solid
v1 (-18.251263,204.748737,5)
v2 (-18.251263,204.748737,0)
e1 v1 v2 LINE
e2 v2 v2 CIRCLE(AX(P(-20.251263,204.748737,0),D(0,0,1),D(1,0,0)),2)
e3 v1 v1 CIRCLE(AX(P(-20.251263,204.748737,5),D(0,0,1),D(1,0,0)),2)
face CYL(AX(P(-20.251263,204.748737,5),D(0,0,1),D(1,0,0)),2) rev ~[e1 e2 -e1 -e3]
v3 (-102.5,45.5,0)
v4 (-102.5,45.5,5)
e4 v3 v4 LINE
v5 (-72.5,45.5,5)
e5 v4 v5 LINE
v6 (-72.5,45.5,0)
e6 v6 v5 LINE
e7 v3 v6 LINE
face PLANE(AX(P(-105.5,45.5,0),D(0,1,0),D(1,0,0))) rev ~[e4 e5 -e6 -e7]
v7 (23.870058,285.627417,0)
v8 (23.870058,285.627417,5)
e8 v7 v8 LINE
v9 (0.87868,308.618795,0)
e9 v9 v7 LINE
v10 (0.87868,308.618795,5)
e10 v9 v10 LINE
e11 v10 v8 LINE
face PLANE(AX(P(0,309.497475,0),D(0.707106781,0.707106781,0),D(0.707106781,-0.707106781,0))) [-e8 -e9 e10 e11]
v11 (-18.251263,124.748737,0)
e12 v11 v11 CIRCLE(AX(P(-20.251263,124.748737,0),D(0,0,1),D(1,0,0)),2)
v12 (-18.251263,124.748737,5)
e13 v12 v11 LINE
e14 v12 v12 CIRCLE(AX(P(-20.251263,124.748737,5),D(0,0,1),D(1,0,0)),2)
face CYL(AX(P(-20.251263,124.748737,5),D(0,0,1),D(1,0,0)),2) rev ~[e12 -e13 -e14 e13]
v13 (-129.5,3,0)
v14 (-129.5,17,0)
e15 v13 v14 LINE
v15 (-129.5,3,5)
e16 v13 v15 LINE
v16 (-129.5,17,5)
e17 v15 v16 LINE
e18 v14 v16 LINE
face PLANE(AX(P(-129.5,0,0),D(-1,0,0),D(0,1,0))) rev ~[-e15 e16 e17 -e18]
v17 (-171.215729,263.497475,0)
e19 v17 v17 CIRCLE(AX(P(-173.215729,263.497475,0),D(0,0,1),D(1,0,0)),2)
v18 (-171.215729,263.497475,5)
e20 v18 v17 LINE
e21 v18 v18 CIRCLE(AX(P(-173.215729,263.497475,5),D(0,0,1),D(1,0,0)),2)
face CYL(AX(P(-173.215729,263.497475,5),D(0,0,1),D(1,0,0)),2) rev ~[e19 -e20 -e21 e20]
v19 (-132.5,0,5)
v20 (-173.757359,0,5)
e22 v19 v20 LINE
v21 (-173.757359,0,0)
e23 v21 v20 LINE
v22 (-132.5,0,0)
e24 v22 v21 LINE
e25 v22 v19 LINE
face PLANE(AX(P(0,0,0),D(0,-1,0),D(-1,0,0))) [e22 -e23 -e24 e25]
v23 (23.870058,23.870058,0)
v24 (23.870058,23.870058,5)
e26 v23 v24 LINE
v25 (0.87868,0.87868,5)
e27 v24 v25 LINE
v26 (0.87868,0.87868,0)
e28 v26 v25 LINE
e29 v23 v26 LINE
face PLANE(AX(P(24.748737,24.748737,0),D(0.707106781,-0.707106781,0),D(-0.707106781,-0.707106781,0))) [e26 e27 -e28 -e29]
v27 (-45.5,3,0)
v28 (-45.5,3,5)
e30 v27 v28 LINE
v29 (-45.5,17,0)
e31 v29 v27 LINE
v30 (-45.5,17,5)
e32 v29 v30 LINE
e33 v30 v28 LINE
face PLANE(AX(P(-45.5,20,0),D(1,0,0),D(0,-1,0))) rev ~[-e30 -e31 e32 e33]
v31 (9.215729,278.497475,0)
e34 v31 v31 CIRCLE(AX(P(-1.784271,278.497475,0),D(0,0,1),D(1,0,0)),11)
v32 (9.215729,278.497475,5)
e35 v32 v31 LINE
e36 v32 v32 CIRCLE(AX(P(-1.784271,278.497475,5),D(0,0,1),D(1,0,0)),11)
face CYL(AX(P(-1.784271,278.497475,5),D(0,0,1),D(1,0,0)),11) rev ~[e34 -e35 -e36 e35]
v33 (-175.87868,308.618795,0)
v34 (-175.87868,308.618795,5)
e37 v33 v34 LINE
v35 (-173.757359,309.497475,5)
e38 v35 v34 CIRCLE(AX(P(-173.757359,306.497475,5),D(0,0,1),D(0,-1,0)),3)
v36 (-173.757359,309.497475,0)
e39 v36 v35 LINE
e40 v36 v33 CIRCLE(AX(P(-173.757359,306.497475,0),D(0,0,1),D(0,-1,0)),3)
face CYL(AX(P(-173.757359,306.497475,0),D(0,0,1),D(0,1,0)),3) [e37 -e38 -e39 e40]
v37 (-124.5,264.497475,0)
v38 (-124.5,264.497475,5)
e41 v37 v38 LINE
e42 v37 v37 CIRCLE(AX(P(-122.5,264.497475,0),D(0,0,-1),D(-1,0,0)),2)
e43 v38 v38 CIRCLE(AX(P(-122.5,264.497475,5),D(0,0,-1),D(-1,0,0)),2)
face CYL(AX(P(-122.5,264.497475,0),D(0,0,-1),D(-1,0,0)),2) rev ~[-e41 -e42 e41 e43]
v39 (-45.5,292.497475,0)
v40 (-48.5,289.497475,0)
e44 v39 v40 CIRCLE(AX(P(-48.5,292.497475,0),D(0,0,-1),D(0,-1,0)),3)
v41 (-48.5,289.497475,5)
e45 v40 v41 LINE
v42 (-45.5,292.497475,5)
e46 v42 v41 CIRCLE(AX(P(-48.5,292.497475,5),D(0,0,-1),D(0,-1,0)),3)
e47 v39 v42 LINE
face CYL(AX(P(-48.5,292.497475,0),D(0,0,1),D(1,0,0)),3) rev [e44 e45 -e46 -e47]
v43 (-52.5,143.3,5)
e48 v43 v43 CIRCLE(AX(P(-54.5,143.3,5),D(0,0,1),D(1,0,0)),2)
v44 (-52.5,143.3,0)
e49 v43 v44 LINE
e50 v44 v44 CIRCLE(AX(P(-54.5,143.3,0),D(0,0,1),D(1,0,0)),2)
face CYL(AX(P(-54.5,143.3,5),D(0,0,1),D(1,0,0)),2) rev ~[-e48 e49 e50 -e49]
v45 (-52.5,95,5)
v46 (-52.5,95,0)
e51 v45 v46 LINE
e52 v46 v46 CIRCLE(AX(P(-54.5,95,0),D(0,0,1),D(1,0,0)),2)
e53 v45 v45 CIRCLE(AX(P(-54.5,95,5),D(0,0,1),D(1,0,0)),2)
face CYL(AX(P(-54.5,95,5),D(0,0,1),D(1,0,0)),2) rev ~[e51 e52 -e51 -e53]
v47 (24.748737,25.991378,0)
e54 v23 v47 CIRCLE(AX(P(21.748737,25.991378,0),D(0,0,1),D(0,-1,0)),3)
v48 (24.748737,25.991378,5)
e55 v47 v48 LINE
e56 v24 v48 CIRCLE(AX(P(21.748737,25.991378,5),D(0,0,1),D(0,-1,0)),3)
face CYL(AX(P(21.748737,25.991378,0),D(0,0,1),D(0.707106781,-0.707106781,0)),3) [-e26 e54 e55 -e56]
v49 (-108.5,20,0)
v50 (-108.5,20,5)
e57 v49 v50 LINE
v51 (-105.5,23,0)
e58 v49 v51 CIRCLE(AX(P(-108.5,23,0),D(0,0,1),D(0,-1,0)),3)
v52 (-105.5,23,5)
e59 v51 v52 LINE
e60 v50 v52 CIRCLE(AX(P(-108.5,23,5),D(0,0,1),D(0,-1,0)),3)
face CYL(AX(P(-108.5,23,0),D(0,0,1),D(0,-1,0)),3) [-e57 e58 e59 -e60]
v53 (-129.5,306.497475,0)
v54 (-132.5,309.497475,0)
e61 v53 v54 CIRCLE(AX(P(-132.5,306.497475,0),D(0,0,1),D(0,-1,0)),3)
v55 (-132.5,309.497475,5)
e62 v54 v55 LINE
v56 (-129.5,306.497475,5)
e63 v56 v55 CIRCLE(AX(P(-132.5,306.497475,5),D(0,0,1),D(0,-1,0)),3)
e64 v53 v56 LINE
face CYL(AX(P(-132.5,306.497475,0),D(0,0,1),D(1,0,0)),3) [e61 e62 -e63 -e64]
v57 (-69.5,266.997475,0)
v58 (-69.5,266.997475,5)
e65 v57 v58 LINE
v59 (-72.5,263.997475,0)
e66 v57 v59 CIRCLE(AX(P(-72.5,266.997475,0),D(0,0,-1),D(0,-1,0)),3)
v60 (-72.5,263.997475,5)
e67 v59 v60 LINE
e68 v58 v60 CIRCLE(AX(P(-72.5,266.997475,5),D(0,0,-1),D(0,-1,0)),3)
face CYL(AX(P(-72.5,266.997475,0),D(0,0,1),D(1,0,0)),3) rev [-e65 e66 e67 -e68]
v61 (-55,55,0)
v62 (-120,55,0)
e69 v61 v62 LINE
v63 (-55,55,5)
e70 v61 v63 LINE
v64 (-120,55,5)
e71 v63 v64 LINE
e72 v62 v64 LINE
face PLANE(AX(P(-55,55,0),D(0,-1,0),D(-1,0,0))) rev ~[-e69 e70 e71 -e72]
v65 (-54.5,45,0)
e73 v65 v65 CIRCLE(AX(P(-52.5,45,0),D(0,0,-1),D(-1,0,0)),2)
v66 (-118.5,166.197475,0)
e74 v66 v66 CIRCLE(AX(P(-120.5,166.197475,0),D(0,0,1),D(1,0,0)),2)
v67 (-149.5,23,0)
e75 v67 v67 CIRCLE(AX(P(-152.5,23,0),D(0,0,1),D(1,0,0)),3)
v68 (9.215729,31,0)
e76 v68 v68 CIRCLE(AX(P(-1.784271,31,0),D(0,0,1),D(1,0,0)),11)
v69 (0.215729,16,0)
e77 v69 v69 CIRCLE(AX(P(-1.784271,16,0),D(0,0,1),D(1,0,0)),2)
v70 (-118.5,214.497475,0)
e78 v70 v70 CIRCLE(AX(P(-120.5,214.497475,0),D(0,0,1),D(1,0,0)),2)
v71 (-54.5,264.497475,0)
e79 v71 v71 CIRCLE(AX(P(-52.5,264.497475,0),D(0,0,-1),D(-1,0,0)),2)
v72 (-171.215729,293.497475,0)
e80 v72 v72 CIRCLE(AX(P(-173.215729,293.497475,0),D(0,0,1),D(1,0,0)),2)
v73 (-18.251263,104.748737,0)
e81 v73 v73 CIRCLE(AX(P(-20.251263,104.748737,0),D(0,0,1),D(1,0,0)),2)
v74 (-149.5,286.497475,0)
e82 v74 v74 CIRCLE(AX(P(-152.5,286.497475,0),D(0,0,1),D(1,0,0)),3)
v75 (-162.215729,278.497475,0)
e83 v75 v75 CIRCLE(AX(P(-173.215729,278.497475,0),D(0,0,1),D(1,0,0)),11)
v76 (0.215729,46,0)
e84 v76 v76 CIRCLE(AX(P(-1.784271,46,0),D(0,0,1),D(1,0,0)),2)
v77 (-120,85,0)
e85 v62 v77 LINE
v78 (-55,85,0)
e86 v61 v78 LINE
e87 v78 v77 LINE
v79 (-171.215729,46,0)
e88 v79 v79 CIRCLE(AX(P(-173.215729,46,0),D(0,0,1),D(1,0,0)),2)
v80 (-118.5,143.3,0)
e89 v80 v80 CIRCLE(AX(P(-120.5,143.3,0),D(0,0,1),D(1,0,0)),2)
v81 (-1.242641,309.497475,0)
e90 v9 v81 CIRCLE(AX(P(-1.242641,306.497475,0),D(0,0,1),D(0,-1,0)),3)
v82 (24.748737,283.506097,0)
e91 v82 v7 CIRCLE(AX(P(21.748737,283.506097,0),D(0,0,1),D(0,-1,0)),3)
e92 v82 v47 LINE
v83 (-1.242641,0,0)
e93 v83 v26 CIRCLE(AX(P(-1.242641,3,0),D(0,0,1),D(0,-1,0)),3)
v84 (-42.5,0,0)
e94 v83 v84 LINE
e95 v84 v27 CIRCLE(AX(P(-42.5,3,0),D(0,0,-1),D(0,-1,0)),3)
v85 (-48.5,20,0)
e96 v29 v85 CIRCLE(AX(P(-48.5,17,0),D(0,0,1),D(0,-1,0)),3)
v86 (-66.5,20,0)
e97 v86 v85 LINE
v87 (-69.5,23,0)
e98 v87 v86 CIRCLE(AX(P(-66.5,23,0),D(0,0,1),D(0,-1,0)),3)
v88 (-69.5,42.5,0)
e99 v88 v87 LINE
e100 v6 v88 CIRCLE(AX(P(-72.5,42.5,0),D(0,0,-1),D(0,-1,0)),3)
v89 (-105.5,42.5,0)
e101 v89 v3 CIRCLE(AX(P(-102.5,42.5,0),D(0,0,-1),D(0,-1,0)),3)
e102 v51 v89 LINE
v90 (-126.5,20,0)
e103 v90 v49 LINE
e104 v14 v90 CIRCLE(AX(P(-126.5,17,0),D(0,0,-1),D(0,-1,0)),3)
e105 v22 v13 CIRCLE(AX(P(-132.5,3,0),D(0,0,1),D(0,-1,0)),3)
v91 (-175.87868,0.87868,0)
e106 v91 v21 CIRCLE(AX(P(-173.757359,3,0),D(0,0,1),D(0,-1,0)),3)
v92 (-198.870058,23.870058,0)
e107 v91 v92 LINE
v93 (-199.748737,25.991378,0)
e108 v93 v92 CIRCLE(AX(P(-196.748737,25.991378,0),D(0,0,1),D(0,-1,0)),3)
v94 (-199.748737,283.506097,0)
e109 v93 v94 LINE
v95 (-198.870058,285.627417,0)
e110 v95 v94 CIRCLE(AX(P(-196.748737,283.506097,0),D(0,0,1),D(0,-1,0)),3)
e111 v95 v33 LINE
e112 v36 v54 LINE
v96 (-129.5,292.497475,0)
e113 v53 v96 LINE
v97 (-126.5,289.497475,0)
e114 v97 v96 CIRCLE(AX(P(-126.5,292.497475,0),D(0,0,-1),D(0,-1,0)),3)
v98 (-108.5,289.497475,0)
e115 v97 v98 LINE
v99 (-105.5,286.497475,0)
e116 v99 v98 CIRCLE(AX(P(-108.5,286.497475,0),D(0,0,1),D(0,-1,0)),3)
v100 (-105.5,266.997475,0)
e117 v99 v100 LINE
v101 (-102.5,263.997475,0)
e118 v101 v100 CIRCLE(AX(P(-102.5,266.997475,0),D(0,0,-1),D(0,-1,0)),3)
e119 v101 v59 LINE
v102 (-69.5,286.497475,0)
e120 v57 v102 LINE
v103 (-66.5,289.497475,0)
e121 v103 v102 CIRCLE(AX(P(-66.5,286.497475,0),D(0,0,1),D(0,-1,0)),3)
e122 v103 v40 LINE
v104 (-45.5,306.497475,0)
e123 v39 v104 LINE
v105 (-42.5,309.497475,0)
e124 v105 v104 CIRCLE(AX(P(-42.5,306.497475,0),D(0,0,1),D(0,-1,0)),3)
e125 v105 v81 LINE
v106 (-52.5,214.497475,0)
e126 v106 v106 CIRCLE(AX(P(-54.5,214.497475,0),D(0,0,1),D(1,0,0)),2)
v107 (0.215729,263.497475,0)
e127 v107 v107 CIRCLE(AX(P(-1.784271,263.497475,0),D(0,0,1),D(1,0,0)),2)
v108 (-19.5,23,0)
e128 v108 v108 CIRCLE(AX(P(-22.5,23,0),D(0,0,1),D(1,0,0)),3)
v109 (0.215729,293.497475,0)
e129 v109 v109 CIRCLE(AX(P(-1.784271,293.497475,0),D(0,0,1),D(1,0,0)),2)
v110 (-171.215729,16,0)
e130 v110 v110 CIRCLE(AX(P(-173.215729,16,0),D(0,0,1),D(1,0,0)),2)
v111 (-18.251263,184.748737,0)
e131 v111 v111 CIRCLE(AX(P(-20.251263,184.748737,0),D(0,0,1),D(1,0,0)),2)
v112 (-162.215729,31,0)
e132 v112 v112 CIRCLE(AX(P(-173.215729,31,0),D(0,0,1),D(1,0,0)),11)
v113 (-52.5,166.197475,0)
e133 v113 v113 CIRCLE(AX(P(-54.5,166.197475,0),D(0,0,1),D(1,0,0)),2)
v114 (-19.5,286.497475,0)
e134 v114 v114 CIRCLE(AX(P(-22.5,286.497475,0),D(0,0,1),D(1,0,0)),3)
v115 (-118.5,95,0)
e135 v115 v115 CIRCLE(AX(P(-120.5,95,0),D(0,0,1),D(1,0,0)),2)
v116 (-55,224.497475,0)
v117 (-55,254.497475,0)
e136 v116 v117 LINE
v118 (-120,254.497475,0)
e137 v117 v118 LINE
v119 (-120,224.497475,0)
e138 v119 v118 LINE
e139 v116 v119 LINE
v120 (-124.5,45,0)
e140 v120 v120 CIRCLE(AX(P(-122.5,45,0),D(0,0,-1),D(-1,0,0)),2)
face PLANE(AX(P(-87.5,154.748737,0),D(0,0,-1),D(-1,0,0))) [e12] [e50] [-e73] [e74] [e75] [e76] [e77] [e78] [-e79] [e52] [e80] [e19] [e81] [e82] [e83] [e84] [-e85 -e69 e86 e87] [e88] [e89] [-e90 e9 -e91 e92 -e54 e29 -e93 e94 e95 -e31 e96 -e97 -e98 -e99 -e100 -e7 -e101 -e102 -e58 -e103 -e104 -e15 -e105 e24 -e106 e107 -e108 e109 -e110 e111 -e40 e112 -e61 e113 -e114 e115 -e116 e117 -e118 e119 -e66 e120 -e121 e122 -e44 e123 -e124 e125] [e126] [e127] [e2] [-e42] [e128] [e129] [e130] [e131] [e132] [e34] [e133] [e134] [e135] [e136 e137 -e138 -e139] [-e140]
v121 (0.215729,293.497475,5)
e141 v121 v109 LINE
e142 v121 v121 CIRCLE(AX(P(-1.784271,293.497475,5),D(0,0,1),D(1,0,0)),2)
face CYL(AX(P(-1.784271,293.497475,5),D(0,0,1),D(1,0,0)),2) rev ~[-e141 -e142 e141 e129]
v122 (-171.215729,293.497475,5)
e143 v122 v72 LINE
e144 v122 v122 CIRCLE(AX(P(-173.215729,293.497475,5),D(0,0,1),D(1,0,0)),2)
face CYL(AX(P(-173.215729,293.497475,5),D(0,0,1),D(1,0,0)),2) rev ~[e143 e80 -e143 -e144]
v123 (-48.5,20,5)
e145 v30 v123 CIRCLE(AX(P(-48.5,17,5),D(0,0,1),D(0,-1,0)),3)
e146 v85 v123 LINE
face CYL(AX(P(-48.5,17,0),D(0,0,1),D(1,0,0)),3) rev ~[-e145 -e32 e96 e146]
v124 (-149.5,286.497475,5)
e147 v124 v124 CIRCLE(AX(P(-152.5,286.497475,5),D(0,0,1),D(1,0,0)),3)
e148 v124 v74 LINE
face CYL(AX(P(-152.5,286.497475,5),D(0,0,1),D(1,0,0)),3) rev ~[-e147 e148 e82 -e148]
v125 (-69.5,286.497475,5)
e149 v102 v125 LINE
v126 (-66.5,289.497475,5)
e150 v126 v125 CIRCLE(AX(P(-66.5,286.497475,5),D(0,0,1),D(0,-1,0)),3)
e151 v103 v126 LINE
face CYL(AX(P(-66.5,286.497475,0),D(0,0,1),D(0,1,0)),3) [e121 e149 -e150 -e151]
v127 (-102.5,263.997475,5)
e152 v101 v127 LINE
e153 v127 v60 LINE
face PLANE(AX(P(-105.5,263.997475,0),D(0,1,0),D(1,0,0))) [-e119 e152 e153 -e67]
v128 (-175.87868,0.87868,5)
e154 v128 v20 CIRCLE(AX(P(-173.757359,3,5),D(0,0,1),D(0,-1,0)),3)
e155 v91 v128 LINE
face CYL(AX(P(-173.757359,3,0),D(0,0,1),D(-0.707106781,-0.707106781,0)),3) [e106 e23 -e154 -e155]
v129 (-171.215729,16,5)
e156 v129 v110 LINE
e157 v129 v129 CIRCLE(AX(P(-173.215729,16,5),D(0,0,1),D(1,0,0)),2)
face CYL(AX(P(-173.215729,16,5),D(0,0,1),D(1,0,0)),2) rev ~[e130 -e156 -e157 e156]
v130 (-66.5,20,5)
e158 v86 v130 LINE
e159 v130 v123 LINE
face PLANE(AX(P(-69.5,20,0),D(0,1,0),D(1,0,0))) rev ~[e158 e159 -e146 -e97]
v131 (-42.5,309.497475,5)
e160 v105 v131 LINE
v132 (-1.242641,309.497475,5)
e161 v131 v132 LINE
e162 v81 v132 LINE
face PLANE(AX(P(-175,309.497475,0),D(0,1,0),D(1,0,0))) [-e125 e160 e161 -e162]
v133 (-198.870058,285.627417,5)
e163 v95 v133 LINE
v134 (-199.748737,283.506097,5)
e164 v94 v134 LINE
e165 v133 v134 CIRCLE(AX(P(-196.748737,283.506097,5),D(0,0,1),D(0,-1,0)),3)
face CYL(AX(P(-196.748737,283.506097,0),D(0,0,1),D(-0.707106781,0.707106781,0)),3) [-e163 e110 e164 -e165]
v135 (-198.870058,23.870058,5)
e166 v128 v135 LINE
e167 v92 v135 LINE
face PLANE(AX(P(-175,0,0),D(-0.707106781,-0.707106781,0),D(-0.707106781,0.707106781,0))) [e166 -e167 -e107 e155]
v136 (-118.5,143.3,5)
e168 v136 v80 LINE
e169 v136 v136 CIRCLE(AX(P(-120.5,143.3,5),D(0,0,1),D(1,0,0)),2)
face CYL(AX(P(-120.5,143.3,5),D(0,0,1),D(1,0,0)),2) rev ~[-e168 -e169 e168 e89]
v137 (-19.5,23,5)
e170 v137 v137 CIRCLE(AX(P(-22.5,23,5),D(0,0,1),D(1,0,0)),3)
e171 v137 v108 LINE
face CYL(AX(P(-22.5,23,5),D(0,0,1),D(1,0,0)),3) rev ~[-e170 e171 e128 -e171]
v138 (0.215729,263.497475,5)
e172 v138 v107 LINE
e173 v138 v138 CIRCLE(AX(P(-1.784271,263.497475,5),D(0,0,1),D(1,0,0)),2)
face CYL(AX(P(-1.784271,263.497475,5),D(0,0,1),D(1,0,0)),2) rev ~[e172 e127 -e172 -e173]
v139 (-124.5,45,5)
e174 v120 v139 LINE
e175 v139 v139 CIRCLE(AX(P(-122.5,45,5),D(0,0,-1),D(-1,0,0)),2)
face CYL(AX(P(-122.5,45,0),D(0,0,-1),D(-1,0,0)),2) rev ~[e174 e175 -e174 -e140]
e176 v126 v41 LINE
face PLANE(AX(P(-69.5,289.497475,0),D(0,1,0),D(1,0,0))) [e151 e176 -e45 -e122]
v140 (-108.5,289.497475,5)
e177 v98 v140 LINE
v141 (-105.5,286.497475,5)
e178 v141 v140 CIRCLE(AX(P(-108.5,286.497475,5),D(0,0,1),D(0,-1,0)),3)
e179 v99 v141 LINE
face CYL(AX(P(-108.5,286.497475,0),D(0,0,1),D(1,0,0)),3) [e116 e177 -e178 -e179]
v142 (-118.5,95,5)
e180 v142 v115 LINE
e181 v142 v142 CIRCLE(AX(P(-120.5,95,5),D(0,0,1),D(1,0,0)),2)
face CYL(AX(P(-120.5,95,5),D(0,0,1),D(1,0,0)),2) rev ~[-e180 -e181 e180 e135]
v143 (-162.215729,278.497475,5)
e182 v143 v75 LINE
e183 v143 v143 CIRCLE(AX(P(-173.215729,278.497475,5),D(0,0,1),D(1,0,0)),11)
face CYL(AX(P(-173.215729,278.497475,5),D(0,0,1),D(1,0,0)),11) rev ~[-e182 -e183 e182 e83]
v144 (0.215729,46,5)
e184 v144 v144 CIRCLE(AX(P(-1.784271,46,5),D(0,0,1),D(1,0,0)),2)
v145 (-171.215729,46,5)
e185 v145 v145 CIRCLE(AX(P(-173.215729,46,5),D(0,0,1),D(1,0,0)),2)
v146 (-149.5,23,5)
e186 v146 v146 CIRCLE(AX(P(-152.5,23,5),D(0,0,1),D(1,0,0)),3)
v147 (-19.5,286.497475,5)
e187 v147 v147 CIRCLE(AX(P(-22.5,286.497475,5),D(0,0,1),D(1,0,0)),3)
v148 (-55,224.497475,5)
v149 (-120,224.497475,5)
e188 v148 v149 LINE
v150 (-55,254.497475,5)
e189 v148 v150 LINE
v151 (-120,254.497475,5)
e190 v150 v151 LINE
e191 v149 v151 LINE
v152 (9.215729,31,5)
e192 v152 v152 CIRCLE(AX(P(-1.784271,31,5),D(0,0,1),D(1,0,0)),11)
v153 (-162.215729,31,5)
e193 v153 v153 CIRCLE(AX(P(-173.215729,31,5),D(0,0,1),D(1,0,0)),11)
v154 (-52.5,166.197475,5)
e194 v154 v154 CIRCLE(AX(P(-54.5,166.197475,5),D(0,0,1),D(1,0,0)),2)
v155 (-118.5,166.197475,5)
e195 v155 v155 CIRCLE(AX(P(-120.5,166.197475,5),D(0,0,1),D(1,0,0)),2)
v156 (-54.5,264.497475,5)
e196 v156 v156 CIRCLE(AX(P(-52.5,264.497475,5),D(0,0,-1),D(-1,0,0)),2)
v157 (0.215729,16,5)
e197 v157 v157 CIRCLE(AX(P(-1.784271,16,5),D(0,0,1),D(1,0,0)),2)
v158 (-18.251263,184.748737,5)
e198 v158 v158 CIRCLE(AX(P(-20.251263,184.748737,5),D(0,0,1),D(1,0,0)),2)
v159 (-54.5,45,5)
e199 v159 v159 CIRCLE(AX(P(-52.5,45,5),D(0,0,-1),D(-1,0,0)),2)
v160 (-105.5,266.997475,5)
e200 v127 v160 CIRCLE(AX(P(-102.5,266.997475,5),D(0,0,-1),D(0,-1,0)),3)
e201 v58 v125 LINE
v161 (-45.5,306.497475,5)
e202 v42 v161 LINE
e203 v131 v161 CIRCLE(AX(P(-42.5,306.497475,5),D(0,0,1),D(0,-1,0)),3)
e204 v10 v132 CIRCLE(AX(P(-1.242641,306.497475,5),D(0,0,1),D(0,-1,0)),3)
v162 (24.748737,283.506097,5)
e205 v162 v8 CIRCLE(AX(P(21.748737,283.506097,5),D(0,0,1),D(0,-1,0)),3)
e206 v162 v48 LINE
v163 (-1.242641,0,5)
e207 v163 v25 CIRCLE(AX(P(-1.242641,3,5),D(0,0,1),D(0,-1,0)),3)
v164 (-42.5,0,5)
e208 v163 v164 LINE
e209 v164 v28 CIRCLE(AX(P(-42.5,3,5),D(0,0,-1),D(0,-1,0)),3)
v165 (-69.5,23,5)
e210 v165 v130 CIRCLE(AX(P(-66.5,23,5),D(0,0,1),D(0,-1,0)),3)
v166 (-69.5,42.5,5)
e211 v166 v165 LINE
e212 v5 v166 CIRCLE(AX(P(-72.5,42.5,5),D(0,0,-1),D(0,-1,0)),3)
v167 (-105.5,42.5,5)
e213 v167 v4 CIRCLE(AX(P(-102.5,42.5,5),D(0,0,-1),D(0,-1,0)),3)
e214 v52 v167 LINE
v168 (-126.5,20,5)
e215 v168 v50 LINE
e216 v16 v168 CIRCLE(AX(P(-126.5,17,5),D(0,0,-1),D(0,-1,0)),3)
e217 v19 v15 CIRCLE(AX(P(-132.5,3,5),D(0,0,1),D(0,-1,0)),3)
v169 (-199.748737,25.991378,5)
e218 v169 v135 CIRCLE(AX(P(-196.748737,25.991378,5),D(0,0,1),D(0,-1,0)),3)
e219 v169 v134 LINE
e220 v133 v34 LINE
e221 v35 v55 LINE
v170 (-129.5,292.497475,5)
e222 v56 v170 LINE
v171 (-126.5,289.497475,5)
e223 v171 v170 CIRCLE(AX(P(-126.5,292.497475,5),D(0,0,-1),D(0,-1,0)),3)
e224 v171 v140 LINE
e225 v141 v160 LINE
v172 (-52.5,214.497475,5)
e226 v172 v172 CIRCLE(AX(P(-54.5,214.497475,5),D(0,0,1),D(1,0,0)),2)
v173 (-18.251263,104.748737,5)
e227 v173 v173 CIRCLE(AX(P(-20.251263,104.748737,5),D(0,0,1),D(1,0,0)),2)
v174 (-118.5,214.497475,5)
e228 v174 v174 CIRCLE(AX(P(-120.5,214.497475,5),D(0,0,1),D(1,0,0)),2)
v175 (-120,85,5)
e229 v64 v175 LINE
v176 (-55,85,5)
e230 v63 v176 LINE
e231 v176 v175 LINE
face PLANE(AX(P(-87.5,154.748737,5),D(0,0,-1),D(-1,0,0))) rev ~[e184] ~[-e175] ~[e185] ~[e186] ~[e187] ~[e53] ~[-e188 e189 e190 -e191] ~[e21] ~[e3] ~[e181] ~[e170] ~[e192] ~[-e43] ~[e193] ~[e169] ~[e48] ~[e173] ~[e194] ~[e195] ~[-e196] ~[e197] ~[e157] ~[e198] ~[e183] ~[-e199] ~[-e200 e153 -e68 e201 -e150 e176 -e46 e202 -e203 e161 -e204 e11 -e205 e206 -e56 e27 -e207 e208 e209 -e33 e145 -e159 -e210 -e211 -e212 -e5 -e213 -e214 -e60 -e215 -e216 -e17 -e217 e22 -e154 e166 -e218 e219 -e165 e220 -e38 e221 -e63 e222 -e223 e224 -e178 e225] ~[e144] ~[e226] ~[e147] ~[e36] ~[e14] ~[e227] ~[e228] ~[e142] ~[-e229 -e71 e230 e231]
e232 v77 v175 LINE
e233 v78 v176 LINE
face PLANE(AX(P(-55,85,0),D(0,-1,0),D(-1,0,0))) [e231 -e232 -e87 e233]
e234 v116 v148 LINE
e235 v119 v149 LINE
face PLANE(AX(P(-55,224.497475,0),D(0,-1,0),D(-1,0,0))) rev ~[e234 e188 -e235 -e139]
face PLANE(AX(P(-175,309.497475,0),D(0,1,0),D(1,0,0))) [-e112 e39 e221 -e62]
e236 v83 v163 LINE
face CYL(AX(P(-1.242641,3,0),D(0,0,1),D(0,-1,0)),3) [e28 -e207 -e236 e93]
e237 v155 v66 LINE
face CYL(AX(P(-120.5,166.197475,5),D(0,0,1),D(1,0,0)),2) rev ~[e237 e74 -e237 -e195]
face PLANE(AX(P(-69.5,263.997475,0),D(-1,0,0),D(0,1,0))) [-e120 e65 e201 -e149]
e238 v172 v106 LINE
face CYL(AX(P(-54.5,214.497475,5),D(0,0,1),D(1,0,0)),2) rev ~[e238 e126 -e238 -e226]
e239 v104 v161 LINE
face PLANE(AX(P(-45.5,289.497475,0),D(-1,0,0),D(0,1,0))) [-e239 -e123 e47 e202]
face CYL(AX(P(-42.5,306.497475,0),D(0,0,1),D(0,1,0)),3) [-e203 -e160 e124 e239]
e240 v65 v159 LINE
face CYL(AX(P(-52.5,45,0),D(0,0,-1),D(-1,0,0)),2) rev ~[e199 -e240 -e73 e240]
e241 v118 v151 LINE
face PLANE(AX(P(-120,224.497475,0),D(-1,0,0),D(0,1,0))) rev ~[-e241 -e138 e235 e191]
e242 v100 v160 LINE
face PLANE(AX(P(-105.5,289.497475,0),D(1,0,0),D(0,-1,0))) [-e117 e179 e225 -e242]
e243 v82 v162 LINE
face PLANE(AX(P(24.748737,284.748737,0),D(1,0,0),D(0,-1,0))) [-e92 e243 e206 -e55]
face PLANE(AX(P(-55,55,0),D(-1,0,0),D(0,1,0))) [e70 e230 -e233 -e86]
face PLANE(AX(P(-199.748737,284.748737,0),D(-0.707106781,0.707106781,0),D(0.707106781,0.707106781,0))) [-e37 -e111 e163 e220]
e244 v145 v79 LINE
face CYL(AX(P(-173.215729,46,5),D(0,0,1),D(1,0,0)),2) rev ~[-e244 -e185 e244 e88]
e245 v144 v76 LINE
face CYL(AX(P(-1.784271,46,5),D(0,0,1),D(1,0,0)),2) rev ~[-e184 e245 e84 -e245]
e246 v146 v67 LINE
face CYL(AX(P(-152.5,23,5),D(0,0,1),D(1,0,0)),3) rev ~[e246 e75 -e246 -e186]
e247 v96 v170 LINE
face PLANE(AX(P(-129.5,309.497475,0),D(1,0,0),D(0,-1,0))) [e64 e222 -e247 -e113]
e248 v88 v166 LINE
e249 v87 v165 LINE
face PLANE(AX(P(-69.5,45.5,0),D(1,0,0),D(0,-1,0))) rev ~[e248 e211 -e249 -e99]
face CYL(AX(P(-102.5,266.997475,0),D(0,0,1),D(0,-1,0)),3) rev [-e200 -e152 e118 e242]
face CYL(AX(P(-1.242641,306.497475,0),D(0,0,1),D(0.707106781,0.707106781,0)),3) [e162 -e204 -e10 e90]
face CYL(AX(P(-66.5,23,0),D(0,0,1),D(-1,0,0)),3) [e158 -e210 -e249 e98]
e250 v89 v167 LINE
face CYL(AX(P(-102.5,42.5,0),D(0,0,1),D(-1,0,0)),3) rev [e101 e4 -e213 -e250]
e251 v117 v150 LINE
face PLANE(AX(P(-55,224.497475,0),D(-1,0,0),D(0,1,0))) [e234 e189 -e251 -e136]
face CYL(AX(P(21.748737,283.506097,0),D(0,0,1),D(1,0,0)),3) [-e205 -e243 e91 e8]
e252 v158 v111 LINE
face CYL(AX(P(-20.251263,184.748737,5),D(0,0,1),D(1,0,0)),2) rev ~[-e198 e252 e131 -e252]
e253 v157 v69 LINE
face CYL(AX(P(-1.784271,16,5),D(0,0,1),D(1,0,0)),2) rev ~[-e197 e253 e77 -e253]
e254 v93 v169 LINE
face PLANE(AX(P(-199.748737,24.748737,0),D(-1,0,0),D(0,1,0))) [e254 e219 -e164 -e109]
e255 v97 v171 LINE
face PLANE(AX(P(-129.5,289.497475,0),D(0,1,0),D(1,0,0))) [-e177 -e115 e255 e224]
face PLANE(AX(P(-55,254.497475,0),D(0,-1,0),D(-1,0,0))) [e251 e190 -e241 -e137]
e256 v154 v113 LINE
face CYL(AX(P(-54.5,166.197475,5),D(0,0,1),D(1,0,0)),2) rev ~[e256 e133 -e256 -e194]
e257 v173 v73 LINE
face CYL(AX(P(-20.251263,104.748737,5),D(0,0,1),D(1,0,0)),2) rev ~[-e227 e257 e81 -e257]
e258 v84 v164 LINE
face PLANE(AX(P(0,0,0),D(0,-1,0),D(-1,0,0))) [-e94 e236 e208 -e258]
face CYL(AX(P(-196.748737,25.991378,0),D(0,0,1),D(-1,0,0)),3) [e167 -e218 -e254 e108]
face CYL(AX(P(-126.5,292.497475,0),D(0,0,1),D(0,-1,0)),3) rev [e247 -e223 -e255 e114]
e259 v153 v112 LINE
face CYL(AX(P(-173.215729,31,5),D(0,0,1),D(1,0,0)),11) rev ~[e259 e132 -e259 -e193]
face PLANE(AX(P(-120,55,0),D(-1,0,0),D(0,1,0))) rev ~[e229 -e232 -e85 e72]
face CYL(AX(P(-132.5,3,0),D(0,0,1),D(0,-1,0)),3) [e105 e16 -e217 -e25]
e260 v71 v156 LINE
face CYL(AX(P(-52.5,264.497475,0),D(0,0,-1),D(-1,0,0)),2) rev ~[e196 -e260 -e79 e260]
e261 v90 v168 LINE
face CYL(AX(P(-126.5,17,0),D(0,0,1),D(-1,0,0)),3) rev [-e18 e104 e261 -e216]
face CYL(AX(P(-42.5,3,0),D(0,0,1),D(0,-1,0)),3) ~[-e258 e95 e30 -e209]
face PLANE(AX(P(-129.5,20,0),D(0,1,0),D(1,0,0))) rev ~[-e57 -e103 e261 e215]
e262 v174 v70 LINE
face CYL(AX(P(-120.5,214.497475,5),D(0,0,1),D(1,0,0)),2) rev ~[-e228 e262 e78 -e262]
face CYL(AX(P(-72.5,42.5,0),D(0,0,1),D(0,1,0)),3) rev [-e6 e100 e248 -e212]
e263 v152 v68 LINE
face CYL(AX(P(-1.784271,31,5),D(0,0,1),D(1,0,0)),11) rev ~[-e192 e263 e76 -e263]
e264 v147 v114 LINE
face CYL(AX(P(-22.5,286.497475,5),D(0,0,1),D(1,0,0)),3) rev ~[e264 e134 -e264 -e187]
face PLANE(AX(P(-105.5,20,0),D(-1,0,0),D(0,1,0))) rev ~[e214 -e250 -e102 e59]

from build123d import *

# Parameters (mm, degrees)
BASE_DEPTH                = 5
ESQUISSE3_R               = 2
ESQUISSE3_W               = 65
ESQUISSE3_H               = 30
ENL_V_MAT_EXTRU_1_DEPTH   = 6
CONG_1_R                  = 3
PER_AGE_POUR_BILLES_REACH = 7
ESQUISSE6_R               = 2
ESQUISSE6_R_2             = 11
PER_AGE_POUR_PROFIL_REACH = 7
ESQUISSE8_R               = 3
ESQUISSE10_R              = 2
ENL_V_MAT_EXTRU_3_DEPTH   = 6
ESQUISSE13_R              = 2
ENL_V_MAT_EXTRU_4_DEPTH   = 10


with BuildPart() as part:
    # Esquisse1 → Base (new body)
    with BuildSketch(Plane.XY):
        Polygon((0, 0), (-175, 0), (-199.748737342, 24.748737342), (-199.748737342, 284.748737342), (-175, 309.497474683), (0, 309.497474683), (24.748737342, 284.748737342), (24.748737342, 24.748737342), align=None)
    extrude(amount=BASE_DEPTH)

    # Esquisse3 → Enlèv. mat.-Extru.1 (cut, through all)
    with BuildSketch(Plane(origin=(0, 0, 0), x_dir=(-1, 0, 0), z_dir=(0, 0, -1))):
        with Locations((52.5, 45)):
            Circle(ESQUISSE3_R)
        with Locations((122.5, 45)):
            Circle(ESQUISSE3_R)
        with Locations((122.5, 264.497474683)):
            Circle(ESQUISSE3_R)
        with Locations((52.5, 264.497474683)):
            Circle(ESQUISSE3_R)
        Polygon((129.5, 0), (129.5, 20), (105.5, 20), (105.5, 45.5), (69.5, 45.5), (69.5, 20), (45.5, 20), (45.5, 0), align=None)
        Polygon((45.5, 309.497474683), (129.5, 309.497474683), (129.5, 289.497474683), (105.5, 289.497474683), (105.5, 263.997474683), (69.5, 263.997474683), (69.5, 289.497474683), (45.5, 289.497474683), align=None)
        with Locations((87.5, 239.497474683)):
            Rectangle(ESQUISSE3_W, ESQUISSE3_H)
        with Locations((87.5, 70)):
            Rectangle(ESQUISSE3_W, ESQUISSE3_H)
    extrude(amount=-ENL_V_MAT_EXTRU_1_DEPTH, mode=Mode.SUBTRACT)

    # Congé1
    cong_1_edges = [part.edges().sort_by_distance(p)[0] for p in [
        (0, 0, 2.5),
        (-175, 0, 2.5),
        (-199.748737342, 24.748737342, 2.5),
        (-199.748737342, 284.748737342, 2.5),
        (-175, 309.497474683, 2.5),
        (0, 309.497474683, 2.5),
        (24.748737342, 284.748737342, 2.5),
        (24.748737342, 24.748737342, 2.5),
        (-45.5, 289.497474683, 2.5),
        (-45.5, 309.497474683, 2.5),
        (-129.5, 309.497474683, 2.5),
        (-129.5, 289.497474683, 2.5),
        (-105.5, 289.497474683, 2.5),
        (-105.5, 263.997474683, 2.5),
        (-69.5, 263.997474683, 2.5),
        (-69.5, 289.497474683, 2.5),
        (-129.5, 0, 2.5),
        (-45.5, 0, 2.5),
        (-45.5, 20, 2.5),
        (-69.5, 20, 2.5),
        (-69.5, 45.5, 2.5),
        (-105.5, 45.5, 2.5),
        (-105.5, 20, 2.5),
        (-129.5, 20, 2.5),
    ]]
    fillet(cong_1_edges, radius=CONG_1_R)

    # Esquisse6 → Perçage pour billes (cut, up to next)
    with BuildSketch(Plane.XY.offset(5), mode=Mode.PRIVATE) as per_age_pour_billes_sk1:
        with Locations((-1.784271247, 16)):
            Circle(ESQUISSE6_R)
    per_age_pour_billes_tool1 = extrude(per_age_pour_billes_sk1.sketch, amount=-PER_AGE_POUR_BILLES_REACH, mode=Mode.PRIVATE) & part.part
    add(per_age_pour_billes_tool1.solids().sort_by_distance((-1.784271, 16, 5))[0], mode=Mode.SUBTRACT)
    # Esquisse6 → Perçage pour billes (cut, up to next)
    with BuildSketch(Plane.XY.offset(5), mode=Mode.PRIVATE) as per_age_pour_billes_sk2:
        with Locations((-1.784271247, 46)):
            Circle(ESQUISSE6_R)
    per_age_pour_billes_tool2 = extrude(per_age_pour_billes_sk2.sketch, amount=-PER_AGE_POUR_BILLES_REACH, mode=Mode.PRIVATE) & part.part
    add(per_age_pour_billes_tool2.solids().sort_by_distance((-1.784271, 46, 5))[0], mode=Mode.SUBTRACT)
    # Esquisse6 → Perçage pour billes (cut, up to next)
    with BuildSketch(Plane.XY.offset(5), mode=Mode.PRIVATE) as per_age_pour_billes_sk3:
        with Locations((-1.784271247, 263.497474683)):
            Circle(ESQUISSE6_R)
    per_age_pour_billes_tool3 = extrude(per_age_pour_billes_sk3.sketch, amount=-PER_AGE_POUR_BILLES_REACH, mode=Mode.PRIVATE) & part.part
    add(per_age_pour_billes_tool3.solids().sort_by_distance((-1.784271, 263.497475, 5))[0], mode=Mode.SUBTRACT)
    # Esquisse6 → Perçage pour billes (cut, up to next)
    with BuildSketch(Plane.XY.offset(5), mode=Mode.PRIVATE) as per_age_pour_billes_sk4:
        with Locations((-1.784271247, 293.497474683)):
            Circle(ESQUISSE6_R)
    per_age_pour_billes_tool4 = extrude(per_age_pour_billes_sk4.sketch, amount=-PER_AGE_POUR_BILLES_REACH, mode=Mode.PRIVATE) & part.part
    add(per_age_pour_billes_tool4.solids().sort_by_distance((-1.784271, 293.497475, 5))[0], mode=Mode.SUBTRACT)
    # Esquisse6 → Perçage pour billes (cut, up to next)
    with BuildSketch(Plane.XY.offset(5), mode=Mode.PRIVATE) as per_age_pour_billes_sk5:
        with Locations((-1.784271247, 278.497474683)):
            Circle(ESQUISSE6_R_2)
    per_age_pour_billes_tool5 = extrude(per_age_pour_billes_sk5.sketch, amount=-PER_AGE_POUR_BILLES_REACH, mode=Mode.PRIVATE) & part.part
    add(per_age_pour_billes_tool5.solids().sort_by_distance((-1.784271, 278.497475, 5))[0], mode=Mode.SUBTRACT)
    # Esquisse6 → Perçage pour billes (cut, up to next)
    with BuildSketch(Plane.XY.offset(5), mode=Mode.PRIVATE) as per_age_pour_billes_sk6:
        with Locations((-1.784271247, 31)):
            Circle(ESQUISSE6_R_2)
    per_age_pour_billes_tool6 = extrude(per_age_pour_billes_sk6.sketch, amount=-PER_AGE_POUR_BILLES_REACH, mode=Mode.PRIVATE) & part.part
    add(per_age_pour_billes_tool6.solids().sort_by_distance((-1.784271, 31, 5))[0], mode=Mode.SUBTRACT)
    # Esquisse6 → Perçage pour billes (cut, up to next)
    with BuildSketch(Plane.XY.offset(5), mode=Mode.PRIVATE) as per_age_pour_billes_sk7:
        with Locations((-173.215728753, 16)):
            Circle(ESQUISSE6_R)
    per_age_pour_billes_tool7 = extrude(per_age_pour_billes_sk7.sketch, amount=-PER_AGE_POUR_BILLES_REACH, mode=Mode.PRIVATE) & part.part
    add(per_age_pour_billes_tool7.solids().sort_by_distance((-173.215729, 16, 5))[0], mode=Mode.SUBTRACT)
    # Esquisse6 → Perçage pour billes (cut, up to next)
    with BuildSketch(Plane.XY.offset(5), mode=Mode.PRIVATE) as per_age_pour_billes_sk8:
        with Locations((-173.215728753, 46)):
            Circle(ESQUISSE6_R)
    per_age_pour_billes_tool8 = extrude(per_age_pour_billes_sk8.sketch, amount=-PER_AGE_POUR_BILLES_REACH, mode=Mode.PRIVATE) & part.part
    add(per_age_pour_billes_tool8.solids().sort_by_distance((-173.215729, 46, 5))[0], mode=Mode.SUBTRACT)
    # Esquisse6 → Perçage pour billes (cut, up to next)
    with BuildSketch(Plane.XY.offset(5), mode=Mode.PRIVATE) as per_age_pour_billes_sk9:
        with Locations((-173.215728753, 31)):
            Circle(ESQUISSE6_R_2)
    per_age_pour_billes_tool9 = extrude(per_age_pour_billes_sk9.sketch, amount=-PER_AGE_POUR_BILLES_REACH, mode=Mode.PRIVATE) & part.part
    add(per_age_pour_billes_tool9.solids().sort_by_distance((-173.215729, 31, 5))[0], mode=Mode.SUBTRACT)
    # Esquisse6 → Perçage pour billes (cut, up to next)
    with BuildSketch(Plane.XY.offset(5), mode=Mode.PRIVATE) as per_age_pour_billes_sk10:
        with Locations((-173.215728753, 263.497474683)):
            Circle(ESQUISSE6_R)
    per_age_pour_billes_tool10 = extrude(per_age_pour_billes_sk10.sketch, amount=-PER_AGE_POUR_BILLES_REACH, mode=Mode.PRIVATE) & part.part
    add(per_age_pour_billes_tool10.solids().sort_by_distance((-173.215729, 263.497475, 5))[0], mode=Mode.SUBTRACT)
    # Esquisse6 → Perçage pour billes (cut, up to next)
    with BuildSketch(Plane.XY.offset(5), mode=Mode.PRIVATE) as per_age_pour_billes_sk11:
        with Locations((-173.215728753, 293.497474683)):
            Circle(ESQUISSE6_R)
    per_age_pour_billes_tool11 = extrude(per_age_pour_billes_sk11.sketch, amount=-PER_AGE_POUR_BILLES_REACH, mode=Mode.PRIVATE) & part.part
    add(per_age_pour_billes_tool11.solids().sort_by_distance((-173.215729, 293.497475, 5))[0], mode=Mode.SUBTRACT)
    # Esquisse6 → Perçage pour billes (cut, up to next)
    with BuildSketch(Plane.XY.offset(5), mode=Mode.PRIVATE) as per_age_pour_billes_sk12:
        with Locations((-173.215728753, 278.497474683)):
            Circle(ESQUISSE6_R_2)
    per_age_pour_billes_tool12 = extrude(per_age_pour_billes_sk12.sketch, amount=-PER_AGE_POUR_BILLES_REACH, mode=Mode.PRIVATE) & part.part
    add(per_age_pour_billes_tool12.solids().sort_by_distance((-173.215729, 278.497475, 5))[0], mode=Mode.SUBTRACT)

    # Esquisse8 → Perçage pour profilé (cut, up to next)
    with BuildSketch(Plane.XY.offset(5), mode=Mode.PRIVATE) as per_age_pour_profil_sk1:
        with Locations((-152.5, 23)):
            Circle(ESQUISSE8_R)
    per_age_pour_profil_tool1 = extrude(per_age_pour_profil_sk1.sketch, amount=-PER_AGE_POUR_PROFIL_REACH, mode=Mode.PRIVATE) & part.part
    add(per_age_pour_profil_tool1.solids().sort_by_distance((-152.5, 23, 5))[0], mode=Mode.SUBTRACT)
    # Esquisse8 → Perçage pour profilé (cut, up to next)
    with BuildSketch(Plane.XY.offset(5), mode=Mode.PRIVATE) as per_age_pour_profil_sk2:
        with Locations((-152.5, 286.497474683)):
            Circle(ESQUISSE8_R)
    per_age_pour_profil_tool2 = extrude(per_age_pour_profil_sk2.sketch, amount=-PER_AGE_POUR_PROFIL_REACH, mode=Mode.PRIVATE) & part.part
    add(per_age_pour_profil_tool2.solids().sort_by_distance((-152.5, 286.497475, 5))[0], mode=Mode.SUBTRACT)
    # Esquisse8 → Perçage pour profilé (cut, up to next)
    with BuildSketch(Plane.XY.offset(5), mode=Mode.PRIVATE) as per_age_pour_profil_sk3:
        with Locations((-22.5, 286.497474683)):
            Circle(ESQUISSE8_R)
    per_age_pour_profil_tool3 = extrude(per_age_pour_profil_sk3.sketch, amount=-PER_AGE_POUR_PROFIL_REACH, mode=Mode.PRIVATE) & part.part
    add(per_age_pour_profil_tool3.solids().sort_by_distance((-22.5, 286.497475, 5))[0], mode=Mode.SUBTRACT)
    # Esquisse8 → Perçage pour profilé (cut, up to next)
    with BuildSketch(Plane.XY.offset(5), mode=Mode.PRIVATE) as per_age_pour_profil_sk4:
        with Locations((-22.5, 23)):
            Circle(ESQUISSE8_R)
    per_age_pour_profil_tool4 = extrude(per_age_pour_profil_sk4.sketch, amount=-PER_AGE_POUR_PROFIL_REACH, mode=Mode.PRIVATE) & part.part
    add(per_age_pour_profil_tool4.solids().sort_by_distance((-22.5, 23, 5))[0], mode=Mode.SUBTRACT)

    # Esquisse10 → Enlèv. mat.-Extru.3 (cut, through all)
    with BuildSketch(Plane.XY.offset(5)):
        with Locations((-120.5, 214.497474683)):
            Circle(ESQUISSE10_R)
        with Locations((-120.5, 166.197474683)):
            Circle(ESQUISSE10_R)
        with Locations((-54.5, 166.197474683)):
            Circle(ESQUISSE10_R)
        with Locations((-54.5, 214.497474683)):
            Circle(ESQUISSE10_R)
        with Locations((-54.5, 143.3)):
            Circle(ESQUISSE10_R)
        with Locations((-54.5, 95)):
            Circle(ESQUISSE10_R)
        with Locations((-120.5, 143.3)):
            Circle(ESQUISSE10_R)
        with Locations((-120.5, 95)):
            Circle(ESQUISSE10_R)
    extrude(amount=-ENL_V_MAT_EXTRU_3_DEPTH, mode=Mode.SUBTRACT)

    # Esquisse13 → Enlèv. mat.-Extru.4 (cut)
    with BuildSketch(Plane.XY.offset(5)):
        with Locations((-20.251262658, 204.748737342)):
            Circle(ESQUISSE13_R)
        with Locations((-20.251262658, 184.748737342)):
            Circle(ESQUISSE13_R)
        with Locations((-20.251262658, 124.748737342)):
            Circle(ESQUISSE13_R)
        with Locations((-20.251262658, 104.748737342)):
            Circle(ESQUISSE13_R)
    extrude(amount=-ENL_V_MAT_EXTRU_4_DEPTH, mode=Mode.SUBTRACT)


solid = part.part
